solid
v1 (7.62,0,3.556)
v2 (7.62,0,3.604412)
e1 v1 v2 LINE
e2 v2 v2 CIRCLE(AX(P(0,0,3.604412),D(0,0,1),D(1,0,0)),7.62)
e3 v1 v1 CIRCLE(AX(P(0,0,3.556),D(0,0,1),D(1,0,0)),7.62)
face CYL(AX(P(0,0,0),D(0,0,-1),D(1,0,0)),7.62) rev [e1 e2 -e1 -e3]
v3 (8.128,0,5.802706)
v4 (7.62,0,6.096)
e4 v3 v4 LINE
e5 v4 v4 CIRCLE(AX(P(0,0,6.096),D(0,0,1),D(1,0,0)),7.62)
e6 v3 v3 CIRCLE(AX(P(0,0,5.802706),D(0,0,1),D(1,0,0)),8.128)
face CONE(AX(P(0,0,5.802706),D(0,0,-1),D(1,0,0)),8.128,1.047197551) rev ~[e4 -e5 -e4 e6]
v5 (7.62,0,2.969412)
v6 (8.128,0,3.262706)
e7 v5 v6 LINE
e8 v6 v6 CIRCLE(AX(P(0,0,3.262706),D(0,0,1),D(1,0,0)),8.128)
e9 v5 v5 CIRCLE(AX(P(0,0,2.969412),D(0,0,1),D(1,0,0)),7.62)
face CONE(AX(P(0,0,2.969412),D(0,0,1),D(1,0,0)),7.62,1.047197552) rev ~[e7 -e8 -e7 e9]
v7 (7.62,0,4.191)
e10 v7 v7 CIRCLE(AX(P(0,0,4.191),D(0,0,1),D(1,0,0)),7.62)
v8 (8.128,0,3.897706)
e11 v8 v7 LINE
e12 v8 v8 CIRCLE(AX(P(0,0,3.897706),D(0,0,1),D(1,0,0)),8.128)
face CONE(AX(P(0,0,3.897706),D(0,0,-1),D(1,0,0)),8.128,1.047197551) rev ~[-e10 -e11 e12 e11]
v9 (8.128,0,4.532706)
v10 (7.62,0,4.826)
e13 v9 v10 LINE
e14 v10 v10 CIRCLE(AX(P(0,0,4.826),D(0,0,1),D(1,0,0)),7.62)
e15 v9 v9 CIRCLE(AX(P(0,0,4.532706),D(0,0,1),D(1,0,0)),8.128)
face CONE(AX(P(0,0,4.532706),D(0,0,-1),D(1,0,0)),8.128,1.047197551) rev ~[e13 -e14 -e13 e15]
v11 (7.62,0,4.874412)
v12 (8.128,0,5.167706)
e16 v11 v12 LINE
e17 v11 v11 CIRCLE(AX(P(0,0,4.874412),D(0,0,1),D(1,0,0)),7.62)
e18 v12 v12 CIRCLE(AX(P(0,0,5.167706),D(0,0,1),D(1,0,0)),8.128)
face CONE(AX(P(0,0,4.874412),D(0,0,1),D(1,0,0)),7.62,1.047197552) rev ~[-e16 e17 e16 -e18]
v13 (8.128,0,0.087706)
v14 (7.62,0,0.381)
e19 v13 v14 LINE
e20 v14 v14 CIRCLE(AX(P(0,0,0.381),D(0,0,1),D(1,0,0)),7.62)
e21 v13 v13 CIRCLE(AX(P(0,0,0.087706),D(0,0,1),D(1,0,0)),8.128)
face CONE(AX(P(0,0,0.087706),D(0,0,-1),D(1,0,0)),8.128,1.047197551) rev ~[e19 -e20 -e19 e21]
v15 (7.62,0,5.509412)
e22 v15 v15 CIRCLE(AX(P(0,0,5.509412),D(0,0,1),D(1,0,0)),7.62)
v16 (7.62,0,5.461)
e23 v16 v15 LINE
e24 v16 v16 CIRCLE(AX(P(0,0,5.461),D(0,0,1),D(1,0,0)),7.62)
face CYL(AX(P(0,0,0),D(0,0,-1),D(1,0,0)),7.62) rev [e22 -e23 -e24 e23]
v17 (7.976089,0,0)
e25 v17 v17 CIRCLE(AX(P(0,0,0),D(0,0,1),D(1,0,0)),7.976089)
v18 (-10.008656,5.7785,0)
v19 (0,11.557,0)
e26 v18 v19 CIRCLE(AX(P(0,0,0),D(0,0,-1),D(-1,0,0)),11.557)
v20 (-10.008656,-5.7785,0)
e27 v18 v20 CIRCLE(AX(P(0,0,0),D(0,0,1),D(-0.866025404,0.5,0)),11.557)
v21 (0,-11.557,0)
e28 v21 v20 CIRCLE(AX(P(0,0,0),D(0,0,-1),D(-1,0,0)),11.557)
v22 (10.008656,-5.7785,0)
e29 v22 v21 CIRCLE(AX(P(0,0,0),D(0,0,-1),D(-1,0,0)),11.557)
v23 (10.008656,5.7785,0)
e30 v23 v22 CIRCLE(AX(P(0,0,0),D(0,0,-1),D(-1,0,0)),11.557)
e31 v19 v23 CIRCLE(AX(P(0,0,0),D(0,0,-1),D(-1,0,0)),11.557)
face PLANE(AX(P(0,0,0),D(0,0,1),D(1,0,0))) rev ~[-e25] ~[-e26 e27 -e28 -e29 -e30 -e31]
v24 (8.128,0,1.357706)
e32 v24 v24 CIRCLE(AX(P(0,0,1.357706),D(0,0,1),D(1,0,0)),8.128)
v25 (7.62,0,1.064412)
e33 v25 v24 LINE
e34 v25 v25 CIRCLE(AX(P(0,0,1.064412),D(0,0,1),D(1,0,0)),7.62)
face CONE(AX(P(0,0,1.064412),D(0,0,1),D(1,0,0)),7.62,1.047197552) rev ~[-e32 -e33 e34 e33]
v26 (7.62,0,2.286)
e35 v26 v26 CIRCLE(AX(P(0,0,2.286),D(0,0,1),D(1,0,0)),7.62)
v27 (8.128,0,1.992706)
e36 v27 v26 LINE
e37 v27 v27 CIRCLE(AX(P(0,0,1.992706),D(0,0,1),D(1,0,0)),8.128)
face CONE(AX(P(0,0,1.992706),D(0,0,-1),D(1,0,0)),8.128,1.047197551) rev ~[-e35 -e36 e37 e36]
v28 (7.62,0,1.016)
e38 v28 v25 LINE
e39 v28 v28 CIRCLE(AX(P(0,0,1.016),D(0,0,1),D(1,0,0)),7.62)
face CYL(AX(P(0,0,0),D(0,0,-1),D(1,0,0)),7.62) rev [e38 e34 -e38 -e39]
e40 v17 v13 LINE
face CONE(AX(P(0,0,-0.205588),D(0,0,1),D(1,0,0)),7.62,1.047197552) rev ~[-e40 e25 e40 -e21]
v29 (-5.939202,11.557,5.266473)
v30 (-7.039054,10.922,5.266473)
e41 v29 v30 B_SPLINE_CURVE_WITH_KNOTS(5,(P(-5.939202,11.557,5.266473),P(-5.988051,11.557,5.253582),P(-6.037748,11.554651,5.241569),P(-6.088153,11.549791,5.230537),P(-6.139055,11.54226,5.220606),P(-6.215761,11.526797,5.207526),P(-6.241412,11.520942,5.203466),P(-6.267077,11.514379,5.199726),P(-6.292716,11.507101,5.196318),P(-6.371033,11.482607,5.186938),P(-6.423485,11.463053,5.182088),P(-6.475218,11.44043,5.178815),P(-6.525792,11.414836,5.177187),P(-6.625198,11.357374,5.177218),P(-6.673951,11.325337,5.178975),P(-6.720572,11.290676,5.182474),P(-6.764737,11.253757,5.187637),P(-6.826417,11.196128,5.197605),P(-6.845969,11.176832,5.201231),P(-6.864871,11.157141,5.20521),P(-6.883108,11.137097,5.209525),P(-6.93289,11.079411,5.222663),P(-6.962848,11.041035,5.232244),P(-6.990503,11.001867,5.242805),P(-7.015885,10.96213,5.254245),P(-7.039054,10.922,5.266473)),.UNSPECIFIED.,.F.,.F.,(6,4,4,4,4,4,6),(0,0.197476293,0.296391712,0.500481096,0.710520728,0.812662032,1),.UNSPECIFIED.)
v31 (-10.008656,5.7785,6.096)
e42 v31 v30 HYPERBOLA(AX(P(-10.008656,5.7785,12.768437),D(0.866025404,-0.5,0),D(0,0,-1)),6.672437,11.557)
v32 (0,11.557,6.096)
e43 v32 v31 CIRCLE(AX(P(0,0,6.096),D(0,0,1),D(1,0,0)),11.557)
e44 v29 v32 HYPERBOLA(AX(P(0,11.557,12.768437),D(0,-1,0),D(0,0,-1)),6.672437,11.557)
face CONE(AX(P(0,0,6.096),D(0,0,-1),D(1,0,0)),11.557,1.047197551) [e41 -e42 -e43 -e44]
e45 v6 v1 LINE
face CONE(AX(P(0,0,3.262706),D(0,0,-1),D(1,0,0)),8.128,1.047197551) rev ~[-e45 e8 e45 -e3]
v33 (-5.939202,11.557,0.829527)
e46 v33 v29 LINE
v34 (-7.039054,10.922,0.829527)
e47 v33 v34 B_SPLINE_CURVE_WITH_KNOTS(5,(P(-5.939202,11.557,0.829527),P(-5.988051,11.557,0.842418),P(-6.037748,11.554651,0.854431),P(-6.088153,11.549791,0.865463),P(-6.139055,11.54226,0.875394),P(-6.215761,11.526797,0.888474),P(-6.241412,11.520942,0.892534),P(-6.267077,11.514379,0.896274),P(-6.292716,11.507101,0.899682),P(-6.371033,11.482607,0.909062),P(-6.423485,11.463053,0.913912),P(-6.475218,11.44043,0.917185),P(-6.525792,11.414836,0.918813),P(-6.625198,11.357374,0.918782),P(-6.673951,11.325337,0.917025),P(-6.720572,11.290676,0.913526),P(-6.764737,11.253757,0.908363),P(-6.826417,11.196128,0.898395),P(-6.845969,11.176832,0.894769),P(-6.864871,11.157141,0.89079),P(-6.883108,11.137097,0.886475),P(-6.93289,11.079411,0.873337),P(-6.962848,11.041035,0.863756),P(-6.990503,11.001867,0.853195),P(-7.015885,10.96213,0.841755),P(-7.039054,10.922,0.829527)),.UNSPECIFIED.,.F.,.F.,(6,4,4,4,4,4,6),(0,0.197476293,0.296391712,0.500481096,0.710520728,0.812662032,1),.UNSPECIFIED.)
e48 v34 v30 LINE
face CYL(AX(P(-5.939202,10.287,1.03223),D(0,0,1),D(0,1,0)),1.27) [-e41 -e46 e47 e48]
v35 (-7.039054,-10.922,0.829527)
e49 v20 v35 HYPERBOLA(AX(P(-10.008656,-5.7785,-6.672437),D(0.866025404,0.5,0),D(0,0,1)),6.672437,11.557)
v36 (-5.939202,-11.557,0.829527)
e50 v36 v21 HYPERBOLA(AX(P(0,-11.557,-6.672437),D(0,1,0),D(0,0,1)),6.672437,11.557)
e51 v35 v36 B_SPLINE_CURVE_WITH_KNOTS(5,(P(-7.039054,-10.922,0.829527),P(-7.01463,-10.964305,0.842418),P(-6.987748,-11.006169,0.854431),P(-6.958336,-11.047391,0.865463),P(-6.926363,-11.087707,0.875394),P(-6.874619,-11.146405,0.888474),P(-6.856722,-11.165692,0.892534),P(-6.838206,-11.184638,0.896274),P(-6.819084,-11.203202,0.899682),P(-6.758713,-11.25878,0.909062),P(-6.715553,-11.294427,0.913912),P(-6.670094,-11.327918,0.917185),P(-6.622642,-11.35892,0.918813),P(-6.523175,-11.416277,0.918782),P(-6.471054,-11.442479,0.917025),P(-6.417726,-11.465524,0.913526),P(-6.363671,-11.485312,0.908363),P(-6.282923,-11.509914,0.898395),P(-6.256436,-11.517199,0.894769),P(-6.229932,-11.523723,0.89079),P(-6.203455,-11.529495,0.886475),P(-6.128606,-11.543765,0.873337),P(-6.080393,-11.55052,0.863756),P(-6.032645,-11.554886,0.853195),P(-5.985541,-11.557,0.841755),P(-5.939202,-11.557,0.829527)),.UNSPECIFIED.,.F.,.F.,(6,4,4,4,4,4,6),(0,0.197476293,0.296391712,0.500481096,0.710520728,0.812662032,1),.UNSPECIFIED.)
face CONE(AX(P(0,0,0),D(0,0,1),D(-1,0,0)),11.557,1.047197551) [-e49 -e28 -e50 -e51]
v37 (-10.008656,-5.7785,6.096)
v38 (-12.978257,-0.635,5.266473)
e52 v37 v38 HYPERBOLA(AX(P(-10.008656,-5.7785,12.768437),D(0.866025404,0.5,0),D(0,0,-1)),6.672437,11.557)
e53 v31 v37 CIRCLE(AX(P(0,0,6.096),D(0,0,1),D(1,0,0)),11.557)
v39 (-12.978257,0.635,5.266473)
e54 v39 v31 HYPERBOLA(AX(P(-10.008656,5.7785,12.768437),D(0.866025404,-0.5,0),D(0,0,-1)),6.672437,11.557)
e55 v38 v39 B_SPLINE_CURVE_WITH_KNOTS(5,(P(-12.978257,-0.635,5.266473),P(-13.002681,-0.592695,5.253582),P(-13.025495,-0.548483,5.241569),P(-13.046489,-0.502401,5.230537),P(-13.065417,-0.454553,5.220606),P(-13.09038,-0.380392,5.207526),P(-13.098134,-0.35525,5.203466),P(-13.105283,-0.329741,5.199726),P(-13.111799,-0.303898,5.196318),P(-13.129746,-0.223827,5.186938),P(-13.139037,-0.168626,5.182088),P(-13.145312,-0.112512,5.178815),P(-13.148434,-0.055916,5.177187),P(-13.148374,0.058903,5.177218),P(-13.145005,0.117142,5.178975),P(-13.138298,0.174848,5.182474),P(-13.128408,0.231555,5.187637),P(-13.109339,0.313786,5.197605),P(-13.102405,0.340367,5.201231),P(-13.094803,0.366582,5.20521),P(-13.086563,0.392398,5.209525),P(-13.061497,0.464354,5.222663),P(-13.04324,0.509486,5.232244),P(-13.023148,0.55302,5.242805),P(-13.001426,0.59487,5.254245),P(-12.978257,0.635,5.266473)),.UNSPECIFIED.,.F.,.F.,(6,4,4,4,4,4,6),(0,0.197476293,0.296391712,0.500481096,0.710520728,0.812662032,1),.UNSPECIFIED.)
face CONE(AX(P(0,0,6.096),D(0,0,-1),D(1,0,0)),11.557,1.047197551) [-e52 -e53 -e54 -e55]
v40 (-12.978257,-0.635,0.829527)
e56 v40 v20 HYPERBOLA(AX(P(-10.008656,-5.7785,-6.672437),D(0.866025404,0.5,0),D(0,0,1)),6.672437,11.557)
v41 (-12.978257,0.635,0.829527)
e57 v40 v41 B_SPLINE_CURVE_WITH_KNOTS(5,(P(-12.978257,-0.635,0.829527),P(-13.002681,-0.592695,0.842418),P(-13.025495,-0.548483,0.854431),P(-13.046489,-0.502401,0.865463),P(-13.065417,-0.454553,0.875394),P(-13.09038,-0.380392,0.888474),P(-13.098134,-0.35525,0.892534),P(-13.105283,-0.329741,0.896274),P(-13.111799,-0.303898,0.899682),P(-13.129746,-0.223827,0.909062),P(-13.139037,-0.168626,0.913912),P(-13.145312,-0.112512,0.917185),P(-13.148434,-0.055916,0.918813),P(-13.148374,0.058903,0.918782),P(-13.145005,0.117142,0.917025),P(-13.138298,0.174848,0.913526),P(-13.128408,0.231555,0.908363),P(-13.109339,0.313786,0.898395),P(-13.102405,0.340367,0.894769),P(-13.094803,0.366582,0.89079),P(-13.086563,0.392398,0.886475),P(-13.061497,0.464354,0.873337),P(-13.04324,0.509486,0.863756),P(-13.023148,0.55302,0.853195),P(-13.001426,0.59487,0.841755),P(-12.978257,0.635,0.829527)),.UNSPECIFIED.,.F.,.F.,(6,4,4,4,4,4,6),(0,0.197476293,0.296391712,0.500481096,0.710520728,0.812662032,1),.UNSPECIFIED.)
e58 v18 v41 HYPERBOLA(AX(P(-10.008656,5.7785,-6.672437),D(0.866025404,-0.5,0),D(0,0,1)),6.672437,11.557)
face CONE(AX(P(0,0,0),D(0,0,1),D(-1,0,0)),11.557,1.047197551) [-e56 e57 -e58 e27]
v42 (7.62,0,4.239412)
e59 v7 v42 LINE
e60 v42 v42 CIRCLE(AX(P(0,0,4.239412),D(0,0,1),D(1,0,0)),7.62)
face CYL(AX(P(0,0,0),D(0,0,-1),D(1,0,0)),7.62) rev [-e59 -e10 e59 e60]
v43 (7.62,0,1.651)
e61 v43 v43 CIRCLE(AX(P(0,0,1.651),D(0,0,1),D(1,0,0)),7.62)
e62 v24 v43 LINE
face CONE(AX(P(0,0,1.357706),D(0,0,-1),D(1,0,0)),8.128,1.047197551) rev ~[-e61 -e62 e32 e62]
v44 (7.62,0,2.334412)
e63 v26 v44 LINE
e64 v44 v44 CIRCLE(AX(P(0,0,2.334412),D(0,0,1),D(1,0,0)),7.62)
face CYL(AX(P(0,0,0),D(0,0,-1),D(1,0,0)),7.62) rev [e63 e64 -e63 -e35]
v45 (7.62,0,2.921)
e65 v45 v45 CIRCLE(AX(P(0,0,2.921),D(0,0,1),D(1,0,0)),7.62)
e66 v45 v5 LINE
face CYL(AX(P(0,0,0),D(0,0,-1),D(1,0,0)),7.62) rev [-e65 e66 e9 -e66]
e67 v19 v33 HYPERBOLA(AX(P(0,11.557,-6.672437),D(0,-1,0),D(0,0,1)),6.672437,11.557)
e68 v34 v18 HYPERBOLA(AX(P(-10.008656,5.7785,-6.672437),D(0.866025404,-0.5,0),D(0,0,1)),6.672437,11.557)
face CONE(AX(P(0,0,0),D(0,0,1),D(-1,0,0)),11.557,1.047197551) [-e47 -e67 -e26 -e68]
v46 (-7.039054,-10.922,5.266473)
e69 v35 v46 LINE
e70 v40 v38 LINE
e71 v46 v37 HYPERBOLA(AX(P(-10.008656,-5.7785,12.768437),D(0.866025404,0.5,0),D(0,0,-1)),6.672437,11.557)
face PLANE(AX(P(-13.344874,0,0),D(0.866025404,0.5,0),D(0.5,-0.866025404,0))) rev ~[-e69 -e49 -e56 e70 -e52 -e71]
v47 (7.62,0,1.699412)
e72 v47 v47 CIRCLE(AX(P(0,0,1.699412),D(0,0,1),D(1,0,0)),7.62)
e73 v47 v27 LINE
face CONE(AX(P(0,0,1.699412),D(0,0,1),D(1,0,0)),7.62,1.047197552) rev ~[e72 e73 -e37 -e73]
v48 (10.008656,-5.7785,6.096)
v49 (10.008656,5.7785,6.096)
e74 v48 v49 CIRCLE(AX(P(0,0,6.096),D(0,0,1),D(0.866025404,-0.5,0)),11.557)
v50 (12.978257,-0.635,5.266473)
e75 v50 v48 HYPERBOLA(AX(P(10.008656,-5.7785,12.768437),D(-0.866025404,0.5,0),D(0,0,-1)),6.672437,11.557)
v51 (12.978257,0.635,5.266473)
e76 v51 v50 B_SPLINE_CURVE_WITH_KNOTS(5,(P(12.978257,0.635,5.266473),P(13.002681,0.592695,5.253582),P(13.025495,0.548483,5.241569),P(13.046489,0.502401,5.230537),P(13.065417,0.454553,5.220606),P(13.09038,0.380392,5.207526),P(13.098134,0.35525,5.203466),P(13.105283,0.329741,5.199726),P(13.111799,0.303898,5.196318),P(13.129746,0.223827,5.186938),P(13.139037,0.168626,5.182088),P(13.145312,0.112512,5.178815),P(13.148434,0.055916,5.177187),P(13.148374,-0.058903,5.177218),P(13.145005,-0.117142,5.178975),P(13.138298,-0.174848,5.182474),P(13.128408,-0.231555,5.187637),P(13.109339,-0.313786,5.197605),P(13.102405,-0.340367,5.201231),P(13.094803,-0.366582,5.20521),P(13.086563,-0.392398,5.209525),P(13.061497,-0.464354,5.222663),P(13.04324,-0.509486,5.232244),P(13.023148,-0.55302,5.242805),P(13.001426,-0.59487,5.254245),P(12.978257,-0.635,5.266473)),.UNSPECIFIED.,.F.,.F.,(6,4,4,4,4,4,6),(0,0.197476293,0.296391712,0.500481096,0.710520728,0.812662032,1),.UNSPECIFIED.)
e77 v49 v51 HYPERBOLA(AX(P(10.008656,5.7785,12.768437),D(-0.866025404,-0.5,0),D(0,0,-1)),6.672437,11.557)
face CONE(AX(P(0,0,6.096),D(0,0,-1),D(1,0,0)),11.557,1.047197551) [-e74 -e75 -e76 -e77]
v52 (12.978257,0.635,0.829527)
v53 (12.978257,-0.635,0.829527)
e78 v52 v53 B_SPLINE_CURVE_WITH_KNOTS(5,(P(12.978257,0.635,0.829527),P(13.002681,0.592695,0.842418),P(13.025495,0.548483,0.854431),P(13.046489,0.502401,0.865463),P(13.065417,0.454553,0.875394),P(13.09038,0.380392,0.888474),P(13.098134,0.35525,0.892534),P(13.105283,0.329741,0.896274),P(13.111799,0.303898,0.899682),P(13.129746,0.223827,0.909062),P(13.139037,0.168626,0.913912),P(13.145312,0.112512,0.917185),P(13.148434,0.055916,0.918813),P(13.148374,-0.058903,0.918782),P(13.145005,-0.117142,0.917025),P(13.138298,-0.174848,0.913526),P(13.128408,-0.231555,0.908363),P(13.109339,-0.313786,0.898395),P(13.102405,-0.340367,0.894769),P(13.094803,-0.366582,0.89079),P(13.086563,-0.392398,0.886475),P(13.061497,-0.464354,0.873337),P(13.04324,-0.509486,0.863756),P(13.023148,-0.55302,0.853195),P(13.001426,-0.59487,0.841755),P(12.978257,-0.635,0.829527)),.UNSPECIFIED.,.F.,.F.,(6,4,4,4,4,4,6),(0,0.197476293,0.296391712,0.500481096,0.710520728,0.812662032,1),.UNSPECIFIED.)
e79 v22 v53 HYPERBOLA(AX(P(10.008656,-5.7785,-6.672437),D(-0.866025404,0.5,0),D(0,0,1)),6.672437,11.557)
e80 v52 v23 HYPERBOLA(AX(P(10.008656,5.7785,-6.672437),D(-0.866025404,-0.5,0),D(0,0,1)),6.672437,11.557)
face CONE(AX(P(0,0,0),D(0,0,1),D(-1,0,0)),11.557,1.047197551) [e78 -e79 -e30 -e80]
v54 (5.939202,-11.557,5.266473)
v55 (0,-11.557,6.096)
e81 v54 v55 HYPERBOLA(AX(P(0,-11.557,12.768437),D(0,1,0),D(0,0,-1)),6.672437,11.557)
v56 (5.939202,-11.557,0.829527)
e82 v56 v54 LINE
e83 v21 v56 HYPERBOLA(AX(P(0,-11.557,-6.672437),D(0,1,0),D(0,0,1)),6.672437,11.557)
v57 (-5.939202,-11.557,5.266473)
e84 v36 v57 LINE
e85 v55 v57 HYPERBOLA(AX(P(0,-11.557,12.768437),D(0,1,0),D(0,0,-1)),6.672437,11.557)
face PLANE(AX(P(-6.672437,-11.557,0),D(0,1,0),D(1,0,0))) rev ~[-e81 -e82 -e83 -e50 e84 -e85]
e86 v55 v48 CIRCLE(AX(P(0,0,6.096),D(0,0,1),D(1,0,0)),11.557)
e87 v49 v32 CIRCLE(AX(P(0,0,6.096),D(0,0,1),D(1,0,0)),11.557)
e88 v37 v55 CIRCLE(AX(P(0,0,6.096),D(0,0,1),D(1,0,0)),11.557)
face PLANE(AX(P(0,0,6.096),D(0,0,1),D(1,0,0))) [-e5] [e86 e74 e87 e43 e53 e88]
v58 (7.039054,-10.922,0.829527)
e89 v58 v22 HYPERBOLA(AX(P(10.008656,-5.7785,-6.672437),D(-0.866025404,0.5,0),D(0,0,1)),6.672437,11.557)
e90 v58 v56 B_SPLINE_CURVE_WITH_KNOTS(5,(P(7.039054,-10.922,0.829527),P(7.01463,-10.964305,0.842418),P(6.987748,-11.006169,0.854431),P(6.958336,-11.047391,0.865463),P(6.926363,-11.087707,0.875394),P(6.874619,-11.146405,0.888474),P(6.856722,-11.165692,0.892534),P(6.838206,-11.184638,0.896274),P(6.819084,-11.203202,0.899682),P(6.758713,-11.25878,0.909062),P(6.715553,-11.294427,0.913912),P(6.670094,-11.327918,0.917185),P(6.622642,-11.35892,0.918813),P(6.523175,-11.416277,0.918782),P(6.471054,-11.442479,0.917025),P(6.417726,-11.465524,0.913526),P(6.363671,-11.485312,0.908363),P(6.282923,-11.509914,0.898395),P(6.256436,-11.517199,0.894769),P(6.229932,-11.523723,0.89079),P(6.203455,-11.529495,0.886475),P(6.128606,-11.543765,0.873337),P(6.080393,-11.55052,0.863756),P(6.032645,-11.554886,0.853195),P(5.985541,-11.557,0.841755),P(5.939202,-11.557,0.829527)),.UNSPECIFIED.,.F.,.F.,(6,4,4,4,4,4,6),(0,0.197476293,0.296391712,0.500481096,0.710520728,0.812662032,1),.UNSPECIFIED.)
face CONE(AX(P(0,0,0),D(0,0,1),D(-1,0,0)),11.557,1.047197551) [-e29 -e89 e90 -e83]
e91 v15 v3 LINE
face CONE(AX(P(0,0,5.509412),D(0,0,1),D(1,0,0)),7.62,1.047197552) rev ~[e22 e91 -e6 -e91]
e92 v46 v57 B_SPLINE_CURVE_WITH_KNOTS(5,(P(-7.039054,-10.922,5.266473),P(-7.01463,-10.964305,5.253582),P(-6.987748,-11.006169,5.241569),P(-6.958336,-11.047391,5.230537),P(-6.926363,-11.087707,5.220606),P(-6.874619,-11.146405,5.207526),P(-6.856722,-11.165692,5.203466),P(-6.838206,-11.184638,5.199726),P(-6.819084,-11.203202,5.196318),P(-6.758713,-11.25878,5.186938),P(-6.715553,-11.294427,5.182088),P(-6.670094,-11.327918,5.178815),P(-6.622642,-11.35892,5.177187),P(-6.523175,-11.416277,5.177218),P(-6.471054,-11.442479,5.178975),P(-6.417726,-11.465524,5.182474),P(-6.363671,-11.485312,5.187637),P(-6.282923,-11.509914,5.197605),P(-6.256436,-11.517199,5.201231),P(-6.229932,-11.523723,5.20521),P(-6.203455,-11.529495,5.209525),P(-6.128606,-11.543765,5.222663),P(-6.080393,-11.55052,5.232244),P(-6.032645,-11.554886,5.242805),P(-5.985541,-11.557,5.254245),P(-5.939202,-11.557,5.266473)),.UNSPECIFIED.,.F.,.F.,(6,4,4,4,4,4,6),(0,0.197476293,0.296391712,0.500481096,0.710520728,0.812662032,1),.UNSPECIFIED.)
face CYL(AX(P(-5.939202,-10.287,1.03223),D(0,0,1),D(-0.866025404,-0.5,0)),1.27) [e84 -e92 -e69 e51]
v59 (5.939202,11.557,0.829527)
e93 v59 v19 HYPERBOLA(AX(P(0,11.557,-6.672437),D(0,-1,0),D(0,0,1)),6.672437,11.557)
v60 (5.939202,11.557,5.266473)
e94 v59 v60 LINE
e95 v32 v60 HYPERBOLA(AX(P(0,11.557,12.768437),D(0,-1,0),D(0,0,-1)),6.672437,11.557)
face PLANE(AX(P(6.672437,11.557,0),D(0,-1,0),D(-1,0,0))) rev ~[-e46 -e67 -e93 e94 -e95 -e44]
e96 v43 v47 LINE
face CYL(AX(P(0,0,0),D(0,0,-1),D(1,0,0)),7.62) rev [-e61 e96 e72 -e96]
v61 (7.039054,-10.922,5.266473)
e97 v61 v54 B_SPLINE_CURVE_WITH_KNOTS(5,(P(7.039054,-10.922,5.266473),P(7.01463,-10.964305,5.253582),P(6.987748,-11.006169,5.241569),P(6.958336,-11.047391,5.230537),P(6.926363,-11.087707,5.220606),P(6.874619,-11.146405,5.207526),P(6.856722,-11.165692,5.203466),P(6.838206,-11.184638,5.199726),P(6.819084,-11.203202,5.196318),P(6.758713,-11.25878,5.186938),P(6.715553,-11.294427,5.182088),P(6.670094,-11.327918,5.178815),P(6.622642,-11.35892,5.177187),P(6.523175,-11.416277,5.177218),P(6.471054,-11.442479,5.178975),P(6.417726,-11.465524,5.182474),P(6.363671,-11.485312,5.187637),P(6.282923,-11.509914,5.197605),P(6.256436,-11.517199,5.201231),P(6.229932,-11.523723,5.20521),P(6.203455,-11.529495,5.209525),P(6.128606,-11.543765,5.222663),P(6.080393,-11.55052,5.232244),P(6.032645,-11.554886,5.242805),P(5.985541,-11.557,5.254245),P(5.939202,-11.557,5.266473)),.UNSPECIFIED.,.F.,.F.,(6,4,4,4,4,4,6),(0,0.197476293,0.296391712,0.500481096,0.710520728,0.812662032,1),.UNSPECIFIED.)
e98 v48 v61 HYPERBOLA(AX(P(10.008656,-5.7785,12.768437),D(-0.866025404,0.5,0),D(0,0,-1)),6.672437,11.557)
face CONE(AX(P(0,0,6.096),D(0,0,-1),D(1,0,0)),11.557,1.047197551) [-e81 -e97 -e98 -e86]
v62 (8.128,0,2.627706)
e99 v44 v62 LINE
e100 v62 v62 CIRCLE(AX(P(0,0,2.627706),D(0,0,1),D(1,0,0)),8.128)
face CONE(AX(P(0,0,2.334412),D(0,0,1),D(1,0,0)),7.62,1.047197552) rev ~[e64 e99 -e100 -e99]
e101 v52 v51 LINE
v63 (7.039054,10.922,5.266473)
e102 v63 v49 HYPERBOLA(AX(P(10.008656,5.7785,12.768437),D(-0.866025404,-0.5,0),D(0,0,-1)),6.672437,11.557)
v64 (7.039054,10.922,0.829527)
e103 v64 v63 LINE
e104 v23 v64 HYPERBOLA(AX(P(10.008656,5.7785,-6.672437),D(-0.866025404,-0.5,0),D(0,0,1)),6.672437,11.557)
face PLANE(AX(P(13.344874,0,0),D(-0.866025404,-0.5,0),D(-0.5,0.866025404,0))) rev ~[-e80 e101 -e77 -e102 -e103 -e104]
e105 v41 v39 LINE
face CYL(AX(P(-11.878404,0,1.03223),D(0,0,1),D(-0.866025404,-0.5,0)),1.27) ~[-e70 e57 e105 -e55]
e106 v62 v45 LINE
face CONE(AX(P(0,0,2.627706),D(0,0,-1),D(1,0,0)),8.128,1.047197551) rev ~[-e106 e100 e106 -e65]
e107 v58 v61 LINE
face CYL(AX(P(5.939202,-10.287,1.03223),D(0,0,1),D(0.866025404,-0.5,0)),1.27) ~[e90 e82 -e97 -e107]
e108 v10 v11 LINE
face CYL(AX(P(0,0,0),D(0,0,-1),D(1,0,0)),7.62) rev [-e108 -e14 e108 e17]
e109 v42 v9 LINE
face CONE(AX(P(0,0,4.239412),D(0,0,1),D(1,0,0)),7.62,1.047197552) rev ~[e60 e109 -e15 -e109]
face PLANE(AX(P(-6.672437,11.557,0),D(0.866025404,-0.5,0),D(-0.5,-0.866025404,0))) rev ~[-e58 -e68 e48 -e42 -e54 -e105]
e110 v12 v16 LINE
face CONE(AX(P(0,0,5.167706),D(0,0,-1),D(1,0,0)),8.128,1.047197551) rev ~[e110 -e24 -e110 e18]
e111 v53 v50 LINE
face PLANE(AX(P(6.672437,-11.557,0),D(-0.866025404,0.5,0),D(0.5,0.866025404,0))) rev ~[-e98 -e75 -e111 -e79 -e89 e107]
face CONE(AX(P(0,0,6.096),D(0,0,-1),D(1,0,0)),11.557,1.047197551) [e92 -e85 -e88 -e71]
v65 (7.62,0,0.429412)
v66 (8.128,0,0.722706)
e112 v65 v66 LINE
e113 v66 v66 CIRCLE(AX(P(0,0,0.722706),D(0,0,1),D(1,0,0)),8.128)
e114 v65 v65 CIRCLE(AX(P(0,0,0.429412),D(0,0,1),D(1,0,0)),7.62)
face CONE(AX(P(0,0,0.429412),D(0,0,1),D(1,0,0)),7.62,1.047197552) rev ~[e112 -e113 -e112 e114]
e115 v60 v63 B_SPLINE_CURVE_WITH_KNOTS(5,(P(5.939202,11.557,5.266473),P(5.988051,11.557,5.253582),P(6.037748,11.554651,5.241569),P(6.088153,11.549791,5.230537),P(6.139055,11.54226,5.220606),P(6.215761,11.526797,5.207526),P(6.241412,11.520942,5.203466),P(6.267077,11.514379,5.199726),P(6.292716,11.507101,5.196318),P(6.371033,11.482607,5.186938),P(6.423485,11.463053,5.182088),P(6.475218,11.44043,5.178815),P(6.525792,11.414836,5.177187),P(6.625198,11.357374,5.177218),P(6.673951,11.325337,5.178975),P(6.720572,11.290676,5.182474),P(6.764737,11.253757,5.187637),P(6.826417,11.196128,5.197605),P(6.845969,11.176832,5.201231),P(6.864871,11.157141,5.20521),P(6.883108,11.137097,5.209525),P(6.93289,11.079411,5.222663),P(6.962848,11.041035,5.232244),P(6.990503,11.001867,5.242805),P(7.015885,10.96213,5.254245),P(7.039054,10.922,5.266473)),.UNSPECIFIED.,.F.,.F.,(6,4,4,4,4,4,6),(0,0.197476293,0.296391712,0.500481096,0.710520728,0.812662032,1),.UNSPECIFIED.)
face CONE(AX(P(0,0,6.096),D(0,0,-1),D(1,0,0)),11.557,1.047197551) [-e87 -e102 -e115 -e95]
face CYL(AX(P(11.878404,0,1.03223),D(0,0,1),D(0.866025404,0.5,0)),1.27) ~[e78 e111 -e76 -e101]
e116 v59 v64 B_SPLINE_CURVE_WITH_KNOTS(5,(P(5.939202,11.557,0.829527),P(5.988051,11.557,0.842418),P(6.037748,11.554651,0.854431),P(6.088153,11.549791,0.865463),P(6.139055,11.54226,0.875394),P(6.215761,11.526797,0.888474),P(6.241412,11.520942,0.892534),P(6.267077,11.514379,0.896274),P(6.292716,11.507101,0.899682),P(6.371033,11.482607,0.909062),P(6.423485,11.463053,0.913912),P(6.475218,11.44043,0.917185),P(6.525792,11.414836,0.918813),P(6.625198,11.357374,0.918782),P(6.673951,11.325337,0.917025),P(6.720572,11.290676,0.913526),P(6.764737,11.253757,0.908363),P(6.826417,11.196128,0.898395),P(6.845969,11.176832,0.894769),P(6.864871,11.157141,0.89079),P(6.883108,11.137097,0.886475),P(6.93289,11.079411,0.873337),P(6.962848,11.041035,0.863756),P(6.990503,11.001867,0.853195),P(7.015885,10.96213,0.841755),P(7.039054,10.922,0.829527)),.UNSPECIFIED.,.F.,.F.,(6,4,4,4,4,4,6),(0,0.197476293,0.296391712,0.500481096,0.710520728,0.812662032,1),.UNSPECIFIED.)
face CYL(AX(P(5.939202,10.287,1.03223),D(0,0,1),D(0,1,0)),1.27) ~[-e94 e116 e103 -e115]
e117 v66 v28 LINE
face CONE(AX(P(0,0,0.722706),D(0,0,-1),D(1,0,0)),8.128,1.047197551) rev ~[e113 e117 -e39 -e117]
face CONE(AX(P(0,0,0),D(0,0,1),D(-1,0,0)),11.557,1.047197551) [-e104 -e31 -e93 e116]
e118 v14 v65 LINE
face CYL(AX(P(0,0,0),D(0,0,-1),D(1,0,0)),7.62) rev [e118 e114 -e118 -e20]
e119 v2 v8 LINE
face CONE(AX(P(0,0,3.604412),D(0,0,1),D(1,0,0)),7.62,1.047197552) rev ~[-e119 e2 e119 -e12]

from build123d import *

# Parameters (mm, degrees)
SKETCH1_R          = 7.62
EXTRUDE1_DEPTH     = 6.096
SKETCH2_OUTSIDE_W  = 60.438
SKETCH2_OUTSIDE_H  = 56.862
SKETCH2_OUTSIDE_R  = 11.557
CUT_EXTRUDE1_DEPTH = 7.096
CUT_EXTRUDE1_DRAFT = -60
SKETCH3_OUTSIDE_W  = 60.438
SKETCH3_OUTSIDE_H  = 56.862
SKETCH3_OUTSIDE_R  = 11.557
CUT_EXTRUDE2_DEPTH = 7.096
CUT_EXTRUDE2_DRAFT = -60
FILLET1_R          = 1.27
LPATTERN1_COUNT    = 10
LPATTERN1_PITCH    = 0.635


with BuildPart() as part:
    # Sketch1 → Extrude1 (new body)
    with BuildSketch(Plane.XY):
        Polygon((-13.344874122, 0), (-6.672437061, -11.557), (6.672437061, -11.557), (13.344874122, 0), (6.672437061, 11.557), (-6.672437061, 11.557), align=None)
        Circle(SKETCH1_R, mode=Mode.SUBTRACT)
    extrude(amount=EXTRUDE1_DEPTH)


with BuildPart() as cut_extrude1_tool:
    # Sketch2 outside → Cut-Extrude1 (with draft: the straight prism first)
    with BuildSketch(Plane.XY.offset(6.096)):
        Rectangle(SKETCH2_OUTSIDE_W, SKETCH2_OUTSIDE_H)
        Circle(SKETCH2_OUTSIDE_R, mode=Mode.SUBTRACT)
    extrude(amount=-CUT_EXTRUDE1_DEPTH)
    # Cut-Extrude1: the draft: its side faces are tilted about the plane it starts from
    cut_extrude1_sides = [cut_extrude1_tool.faces().sort_by_distance(p)[0] for p in [
        (0, -28.431, 2.548),
        (30.219, 0, 2.548),
        (0, 28.431, 2.548),
        (-30.219, 0, 2.548),
        (-11.557, 0, 2.548),
    ]]
    draft(cut_extrude1_sides, Plane.XY.offset(6.096), CUT_EXTRUDE1_DRAFT)


with BuildPart() as part_1:
    add(part.part)

    # Cut-Extrude1: cut by cut_extrude1_tool
    add(cut_extrude1_tool.part, mode=Mode.SUBTRACT)


with BuildPart() as cut_extrude2_tool:
    # Sketch3 outside → Cut-Extrude2 (with draft: the straight prism first)
    with BuildSketch(Plane(origin=(0, 0, 0), x_dir=(-1, 0, 0), z_dir=(0, 0, -1))):
        Rectangle(SKETCH3_OUTSIDE_W, SKETCH3_OUTSIDE_H)
        Circle(SKETCH3_OUTSIDE_R, mode=Mode.SUBTRACT)
    extrude(amount=-CUT_EXTRUDE2_DEPTH)
    # Cut-Extrude2: the draft: its side faces are tilted about the plane it starts from
    cut_extrude2_sides = [cut_extrude2_tool.faces().sort_by_distance(p)[0] for p in [
        (0, -28.431, 3.548),
        (-30.219, 0, 3.548),
        (0, 28.431, 3.548),
        (30.219, 0, 3.548),
        (11.557, 0, 3.548),
    ]]
    draft(cut_extrude2_sides, Plane(origin=(0, 0, 0), x_dir=(-1, 0, 0), z_dir=(0, 0, -1)), CUT_EXTRUDE2_DRAFT)


with BuildPart() as part_2:
    add(part_1.part)

    # Cut-Extrude2: cut by cut_extrude2_tool
    add(cut_extrude2_tool.part, mode=Mode.SUBTRACT)

    # Fillet1
    fillet1_edges = [part_2.edges().sort_by_distance(p)[0] for p in [
        (13.344874122, 0, 3.048),
        (6.672437061, -11.557, 3.048),
        (-6.672437061, -11.557, 3.048),
        (-13.344874122, 0, 3.048),
        (-6.672437061, 11.557, 3.048),
        (6.672437061, 11.557, 3.048),
    ]]
    fillet(fillet1_edges, radius=FILLET1_R)

    # Sketch4 → Cut-Revolve1 (revolve, cut)
    with BuildSketch(Plane(origin=(0, 0, 0), x_dir=(1, 0, 0), z_dir=(0, 1, 0)), mode=Mode.PRIVATE) as cut_revolve1_sk:
        Polygon((-7.62, -6.096), (-7.62, -5.509412127), (-8.128, -5.802706063), align=None)
    cut_revolve1 = revolve(cut_revolve1_sk.sketch.rotate(Axis((0, 0, 0), (0, 0, 1)), 180), axis=Axis((0, 0, 0), (0, 0, 1)), mode=Mode.SUBTRACT)  # turned: the seam where the file's is

    # LPattern1: Cut-Revolve1 ×10
    with Locations(*[(0, 0, -i * LPATTERN1_PITCH) for i in range(1, LPATTERN1_COUNT)]):
        add(cut_revolve1, mode=Mode.SUBTRACT)


solid = part_2.part
